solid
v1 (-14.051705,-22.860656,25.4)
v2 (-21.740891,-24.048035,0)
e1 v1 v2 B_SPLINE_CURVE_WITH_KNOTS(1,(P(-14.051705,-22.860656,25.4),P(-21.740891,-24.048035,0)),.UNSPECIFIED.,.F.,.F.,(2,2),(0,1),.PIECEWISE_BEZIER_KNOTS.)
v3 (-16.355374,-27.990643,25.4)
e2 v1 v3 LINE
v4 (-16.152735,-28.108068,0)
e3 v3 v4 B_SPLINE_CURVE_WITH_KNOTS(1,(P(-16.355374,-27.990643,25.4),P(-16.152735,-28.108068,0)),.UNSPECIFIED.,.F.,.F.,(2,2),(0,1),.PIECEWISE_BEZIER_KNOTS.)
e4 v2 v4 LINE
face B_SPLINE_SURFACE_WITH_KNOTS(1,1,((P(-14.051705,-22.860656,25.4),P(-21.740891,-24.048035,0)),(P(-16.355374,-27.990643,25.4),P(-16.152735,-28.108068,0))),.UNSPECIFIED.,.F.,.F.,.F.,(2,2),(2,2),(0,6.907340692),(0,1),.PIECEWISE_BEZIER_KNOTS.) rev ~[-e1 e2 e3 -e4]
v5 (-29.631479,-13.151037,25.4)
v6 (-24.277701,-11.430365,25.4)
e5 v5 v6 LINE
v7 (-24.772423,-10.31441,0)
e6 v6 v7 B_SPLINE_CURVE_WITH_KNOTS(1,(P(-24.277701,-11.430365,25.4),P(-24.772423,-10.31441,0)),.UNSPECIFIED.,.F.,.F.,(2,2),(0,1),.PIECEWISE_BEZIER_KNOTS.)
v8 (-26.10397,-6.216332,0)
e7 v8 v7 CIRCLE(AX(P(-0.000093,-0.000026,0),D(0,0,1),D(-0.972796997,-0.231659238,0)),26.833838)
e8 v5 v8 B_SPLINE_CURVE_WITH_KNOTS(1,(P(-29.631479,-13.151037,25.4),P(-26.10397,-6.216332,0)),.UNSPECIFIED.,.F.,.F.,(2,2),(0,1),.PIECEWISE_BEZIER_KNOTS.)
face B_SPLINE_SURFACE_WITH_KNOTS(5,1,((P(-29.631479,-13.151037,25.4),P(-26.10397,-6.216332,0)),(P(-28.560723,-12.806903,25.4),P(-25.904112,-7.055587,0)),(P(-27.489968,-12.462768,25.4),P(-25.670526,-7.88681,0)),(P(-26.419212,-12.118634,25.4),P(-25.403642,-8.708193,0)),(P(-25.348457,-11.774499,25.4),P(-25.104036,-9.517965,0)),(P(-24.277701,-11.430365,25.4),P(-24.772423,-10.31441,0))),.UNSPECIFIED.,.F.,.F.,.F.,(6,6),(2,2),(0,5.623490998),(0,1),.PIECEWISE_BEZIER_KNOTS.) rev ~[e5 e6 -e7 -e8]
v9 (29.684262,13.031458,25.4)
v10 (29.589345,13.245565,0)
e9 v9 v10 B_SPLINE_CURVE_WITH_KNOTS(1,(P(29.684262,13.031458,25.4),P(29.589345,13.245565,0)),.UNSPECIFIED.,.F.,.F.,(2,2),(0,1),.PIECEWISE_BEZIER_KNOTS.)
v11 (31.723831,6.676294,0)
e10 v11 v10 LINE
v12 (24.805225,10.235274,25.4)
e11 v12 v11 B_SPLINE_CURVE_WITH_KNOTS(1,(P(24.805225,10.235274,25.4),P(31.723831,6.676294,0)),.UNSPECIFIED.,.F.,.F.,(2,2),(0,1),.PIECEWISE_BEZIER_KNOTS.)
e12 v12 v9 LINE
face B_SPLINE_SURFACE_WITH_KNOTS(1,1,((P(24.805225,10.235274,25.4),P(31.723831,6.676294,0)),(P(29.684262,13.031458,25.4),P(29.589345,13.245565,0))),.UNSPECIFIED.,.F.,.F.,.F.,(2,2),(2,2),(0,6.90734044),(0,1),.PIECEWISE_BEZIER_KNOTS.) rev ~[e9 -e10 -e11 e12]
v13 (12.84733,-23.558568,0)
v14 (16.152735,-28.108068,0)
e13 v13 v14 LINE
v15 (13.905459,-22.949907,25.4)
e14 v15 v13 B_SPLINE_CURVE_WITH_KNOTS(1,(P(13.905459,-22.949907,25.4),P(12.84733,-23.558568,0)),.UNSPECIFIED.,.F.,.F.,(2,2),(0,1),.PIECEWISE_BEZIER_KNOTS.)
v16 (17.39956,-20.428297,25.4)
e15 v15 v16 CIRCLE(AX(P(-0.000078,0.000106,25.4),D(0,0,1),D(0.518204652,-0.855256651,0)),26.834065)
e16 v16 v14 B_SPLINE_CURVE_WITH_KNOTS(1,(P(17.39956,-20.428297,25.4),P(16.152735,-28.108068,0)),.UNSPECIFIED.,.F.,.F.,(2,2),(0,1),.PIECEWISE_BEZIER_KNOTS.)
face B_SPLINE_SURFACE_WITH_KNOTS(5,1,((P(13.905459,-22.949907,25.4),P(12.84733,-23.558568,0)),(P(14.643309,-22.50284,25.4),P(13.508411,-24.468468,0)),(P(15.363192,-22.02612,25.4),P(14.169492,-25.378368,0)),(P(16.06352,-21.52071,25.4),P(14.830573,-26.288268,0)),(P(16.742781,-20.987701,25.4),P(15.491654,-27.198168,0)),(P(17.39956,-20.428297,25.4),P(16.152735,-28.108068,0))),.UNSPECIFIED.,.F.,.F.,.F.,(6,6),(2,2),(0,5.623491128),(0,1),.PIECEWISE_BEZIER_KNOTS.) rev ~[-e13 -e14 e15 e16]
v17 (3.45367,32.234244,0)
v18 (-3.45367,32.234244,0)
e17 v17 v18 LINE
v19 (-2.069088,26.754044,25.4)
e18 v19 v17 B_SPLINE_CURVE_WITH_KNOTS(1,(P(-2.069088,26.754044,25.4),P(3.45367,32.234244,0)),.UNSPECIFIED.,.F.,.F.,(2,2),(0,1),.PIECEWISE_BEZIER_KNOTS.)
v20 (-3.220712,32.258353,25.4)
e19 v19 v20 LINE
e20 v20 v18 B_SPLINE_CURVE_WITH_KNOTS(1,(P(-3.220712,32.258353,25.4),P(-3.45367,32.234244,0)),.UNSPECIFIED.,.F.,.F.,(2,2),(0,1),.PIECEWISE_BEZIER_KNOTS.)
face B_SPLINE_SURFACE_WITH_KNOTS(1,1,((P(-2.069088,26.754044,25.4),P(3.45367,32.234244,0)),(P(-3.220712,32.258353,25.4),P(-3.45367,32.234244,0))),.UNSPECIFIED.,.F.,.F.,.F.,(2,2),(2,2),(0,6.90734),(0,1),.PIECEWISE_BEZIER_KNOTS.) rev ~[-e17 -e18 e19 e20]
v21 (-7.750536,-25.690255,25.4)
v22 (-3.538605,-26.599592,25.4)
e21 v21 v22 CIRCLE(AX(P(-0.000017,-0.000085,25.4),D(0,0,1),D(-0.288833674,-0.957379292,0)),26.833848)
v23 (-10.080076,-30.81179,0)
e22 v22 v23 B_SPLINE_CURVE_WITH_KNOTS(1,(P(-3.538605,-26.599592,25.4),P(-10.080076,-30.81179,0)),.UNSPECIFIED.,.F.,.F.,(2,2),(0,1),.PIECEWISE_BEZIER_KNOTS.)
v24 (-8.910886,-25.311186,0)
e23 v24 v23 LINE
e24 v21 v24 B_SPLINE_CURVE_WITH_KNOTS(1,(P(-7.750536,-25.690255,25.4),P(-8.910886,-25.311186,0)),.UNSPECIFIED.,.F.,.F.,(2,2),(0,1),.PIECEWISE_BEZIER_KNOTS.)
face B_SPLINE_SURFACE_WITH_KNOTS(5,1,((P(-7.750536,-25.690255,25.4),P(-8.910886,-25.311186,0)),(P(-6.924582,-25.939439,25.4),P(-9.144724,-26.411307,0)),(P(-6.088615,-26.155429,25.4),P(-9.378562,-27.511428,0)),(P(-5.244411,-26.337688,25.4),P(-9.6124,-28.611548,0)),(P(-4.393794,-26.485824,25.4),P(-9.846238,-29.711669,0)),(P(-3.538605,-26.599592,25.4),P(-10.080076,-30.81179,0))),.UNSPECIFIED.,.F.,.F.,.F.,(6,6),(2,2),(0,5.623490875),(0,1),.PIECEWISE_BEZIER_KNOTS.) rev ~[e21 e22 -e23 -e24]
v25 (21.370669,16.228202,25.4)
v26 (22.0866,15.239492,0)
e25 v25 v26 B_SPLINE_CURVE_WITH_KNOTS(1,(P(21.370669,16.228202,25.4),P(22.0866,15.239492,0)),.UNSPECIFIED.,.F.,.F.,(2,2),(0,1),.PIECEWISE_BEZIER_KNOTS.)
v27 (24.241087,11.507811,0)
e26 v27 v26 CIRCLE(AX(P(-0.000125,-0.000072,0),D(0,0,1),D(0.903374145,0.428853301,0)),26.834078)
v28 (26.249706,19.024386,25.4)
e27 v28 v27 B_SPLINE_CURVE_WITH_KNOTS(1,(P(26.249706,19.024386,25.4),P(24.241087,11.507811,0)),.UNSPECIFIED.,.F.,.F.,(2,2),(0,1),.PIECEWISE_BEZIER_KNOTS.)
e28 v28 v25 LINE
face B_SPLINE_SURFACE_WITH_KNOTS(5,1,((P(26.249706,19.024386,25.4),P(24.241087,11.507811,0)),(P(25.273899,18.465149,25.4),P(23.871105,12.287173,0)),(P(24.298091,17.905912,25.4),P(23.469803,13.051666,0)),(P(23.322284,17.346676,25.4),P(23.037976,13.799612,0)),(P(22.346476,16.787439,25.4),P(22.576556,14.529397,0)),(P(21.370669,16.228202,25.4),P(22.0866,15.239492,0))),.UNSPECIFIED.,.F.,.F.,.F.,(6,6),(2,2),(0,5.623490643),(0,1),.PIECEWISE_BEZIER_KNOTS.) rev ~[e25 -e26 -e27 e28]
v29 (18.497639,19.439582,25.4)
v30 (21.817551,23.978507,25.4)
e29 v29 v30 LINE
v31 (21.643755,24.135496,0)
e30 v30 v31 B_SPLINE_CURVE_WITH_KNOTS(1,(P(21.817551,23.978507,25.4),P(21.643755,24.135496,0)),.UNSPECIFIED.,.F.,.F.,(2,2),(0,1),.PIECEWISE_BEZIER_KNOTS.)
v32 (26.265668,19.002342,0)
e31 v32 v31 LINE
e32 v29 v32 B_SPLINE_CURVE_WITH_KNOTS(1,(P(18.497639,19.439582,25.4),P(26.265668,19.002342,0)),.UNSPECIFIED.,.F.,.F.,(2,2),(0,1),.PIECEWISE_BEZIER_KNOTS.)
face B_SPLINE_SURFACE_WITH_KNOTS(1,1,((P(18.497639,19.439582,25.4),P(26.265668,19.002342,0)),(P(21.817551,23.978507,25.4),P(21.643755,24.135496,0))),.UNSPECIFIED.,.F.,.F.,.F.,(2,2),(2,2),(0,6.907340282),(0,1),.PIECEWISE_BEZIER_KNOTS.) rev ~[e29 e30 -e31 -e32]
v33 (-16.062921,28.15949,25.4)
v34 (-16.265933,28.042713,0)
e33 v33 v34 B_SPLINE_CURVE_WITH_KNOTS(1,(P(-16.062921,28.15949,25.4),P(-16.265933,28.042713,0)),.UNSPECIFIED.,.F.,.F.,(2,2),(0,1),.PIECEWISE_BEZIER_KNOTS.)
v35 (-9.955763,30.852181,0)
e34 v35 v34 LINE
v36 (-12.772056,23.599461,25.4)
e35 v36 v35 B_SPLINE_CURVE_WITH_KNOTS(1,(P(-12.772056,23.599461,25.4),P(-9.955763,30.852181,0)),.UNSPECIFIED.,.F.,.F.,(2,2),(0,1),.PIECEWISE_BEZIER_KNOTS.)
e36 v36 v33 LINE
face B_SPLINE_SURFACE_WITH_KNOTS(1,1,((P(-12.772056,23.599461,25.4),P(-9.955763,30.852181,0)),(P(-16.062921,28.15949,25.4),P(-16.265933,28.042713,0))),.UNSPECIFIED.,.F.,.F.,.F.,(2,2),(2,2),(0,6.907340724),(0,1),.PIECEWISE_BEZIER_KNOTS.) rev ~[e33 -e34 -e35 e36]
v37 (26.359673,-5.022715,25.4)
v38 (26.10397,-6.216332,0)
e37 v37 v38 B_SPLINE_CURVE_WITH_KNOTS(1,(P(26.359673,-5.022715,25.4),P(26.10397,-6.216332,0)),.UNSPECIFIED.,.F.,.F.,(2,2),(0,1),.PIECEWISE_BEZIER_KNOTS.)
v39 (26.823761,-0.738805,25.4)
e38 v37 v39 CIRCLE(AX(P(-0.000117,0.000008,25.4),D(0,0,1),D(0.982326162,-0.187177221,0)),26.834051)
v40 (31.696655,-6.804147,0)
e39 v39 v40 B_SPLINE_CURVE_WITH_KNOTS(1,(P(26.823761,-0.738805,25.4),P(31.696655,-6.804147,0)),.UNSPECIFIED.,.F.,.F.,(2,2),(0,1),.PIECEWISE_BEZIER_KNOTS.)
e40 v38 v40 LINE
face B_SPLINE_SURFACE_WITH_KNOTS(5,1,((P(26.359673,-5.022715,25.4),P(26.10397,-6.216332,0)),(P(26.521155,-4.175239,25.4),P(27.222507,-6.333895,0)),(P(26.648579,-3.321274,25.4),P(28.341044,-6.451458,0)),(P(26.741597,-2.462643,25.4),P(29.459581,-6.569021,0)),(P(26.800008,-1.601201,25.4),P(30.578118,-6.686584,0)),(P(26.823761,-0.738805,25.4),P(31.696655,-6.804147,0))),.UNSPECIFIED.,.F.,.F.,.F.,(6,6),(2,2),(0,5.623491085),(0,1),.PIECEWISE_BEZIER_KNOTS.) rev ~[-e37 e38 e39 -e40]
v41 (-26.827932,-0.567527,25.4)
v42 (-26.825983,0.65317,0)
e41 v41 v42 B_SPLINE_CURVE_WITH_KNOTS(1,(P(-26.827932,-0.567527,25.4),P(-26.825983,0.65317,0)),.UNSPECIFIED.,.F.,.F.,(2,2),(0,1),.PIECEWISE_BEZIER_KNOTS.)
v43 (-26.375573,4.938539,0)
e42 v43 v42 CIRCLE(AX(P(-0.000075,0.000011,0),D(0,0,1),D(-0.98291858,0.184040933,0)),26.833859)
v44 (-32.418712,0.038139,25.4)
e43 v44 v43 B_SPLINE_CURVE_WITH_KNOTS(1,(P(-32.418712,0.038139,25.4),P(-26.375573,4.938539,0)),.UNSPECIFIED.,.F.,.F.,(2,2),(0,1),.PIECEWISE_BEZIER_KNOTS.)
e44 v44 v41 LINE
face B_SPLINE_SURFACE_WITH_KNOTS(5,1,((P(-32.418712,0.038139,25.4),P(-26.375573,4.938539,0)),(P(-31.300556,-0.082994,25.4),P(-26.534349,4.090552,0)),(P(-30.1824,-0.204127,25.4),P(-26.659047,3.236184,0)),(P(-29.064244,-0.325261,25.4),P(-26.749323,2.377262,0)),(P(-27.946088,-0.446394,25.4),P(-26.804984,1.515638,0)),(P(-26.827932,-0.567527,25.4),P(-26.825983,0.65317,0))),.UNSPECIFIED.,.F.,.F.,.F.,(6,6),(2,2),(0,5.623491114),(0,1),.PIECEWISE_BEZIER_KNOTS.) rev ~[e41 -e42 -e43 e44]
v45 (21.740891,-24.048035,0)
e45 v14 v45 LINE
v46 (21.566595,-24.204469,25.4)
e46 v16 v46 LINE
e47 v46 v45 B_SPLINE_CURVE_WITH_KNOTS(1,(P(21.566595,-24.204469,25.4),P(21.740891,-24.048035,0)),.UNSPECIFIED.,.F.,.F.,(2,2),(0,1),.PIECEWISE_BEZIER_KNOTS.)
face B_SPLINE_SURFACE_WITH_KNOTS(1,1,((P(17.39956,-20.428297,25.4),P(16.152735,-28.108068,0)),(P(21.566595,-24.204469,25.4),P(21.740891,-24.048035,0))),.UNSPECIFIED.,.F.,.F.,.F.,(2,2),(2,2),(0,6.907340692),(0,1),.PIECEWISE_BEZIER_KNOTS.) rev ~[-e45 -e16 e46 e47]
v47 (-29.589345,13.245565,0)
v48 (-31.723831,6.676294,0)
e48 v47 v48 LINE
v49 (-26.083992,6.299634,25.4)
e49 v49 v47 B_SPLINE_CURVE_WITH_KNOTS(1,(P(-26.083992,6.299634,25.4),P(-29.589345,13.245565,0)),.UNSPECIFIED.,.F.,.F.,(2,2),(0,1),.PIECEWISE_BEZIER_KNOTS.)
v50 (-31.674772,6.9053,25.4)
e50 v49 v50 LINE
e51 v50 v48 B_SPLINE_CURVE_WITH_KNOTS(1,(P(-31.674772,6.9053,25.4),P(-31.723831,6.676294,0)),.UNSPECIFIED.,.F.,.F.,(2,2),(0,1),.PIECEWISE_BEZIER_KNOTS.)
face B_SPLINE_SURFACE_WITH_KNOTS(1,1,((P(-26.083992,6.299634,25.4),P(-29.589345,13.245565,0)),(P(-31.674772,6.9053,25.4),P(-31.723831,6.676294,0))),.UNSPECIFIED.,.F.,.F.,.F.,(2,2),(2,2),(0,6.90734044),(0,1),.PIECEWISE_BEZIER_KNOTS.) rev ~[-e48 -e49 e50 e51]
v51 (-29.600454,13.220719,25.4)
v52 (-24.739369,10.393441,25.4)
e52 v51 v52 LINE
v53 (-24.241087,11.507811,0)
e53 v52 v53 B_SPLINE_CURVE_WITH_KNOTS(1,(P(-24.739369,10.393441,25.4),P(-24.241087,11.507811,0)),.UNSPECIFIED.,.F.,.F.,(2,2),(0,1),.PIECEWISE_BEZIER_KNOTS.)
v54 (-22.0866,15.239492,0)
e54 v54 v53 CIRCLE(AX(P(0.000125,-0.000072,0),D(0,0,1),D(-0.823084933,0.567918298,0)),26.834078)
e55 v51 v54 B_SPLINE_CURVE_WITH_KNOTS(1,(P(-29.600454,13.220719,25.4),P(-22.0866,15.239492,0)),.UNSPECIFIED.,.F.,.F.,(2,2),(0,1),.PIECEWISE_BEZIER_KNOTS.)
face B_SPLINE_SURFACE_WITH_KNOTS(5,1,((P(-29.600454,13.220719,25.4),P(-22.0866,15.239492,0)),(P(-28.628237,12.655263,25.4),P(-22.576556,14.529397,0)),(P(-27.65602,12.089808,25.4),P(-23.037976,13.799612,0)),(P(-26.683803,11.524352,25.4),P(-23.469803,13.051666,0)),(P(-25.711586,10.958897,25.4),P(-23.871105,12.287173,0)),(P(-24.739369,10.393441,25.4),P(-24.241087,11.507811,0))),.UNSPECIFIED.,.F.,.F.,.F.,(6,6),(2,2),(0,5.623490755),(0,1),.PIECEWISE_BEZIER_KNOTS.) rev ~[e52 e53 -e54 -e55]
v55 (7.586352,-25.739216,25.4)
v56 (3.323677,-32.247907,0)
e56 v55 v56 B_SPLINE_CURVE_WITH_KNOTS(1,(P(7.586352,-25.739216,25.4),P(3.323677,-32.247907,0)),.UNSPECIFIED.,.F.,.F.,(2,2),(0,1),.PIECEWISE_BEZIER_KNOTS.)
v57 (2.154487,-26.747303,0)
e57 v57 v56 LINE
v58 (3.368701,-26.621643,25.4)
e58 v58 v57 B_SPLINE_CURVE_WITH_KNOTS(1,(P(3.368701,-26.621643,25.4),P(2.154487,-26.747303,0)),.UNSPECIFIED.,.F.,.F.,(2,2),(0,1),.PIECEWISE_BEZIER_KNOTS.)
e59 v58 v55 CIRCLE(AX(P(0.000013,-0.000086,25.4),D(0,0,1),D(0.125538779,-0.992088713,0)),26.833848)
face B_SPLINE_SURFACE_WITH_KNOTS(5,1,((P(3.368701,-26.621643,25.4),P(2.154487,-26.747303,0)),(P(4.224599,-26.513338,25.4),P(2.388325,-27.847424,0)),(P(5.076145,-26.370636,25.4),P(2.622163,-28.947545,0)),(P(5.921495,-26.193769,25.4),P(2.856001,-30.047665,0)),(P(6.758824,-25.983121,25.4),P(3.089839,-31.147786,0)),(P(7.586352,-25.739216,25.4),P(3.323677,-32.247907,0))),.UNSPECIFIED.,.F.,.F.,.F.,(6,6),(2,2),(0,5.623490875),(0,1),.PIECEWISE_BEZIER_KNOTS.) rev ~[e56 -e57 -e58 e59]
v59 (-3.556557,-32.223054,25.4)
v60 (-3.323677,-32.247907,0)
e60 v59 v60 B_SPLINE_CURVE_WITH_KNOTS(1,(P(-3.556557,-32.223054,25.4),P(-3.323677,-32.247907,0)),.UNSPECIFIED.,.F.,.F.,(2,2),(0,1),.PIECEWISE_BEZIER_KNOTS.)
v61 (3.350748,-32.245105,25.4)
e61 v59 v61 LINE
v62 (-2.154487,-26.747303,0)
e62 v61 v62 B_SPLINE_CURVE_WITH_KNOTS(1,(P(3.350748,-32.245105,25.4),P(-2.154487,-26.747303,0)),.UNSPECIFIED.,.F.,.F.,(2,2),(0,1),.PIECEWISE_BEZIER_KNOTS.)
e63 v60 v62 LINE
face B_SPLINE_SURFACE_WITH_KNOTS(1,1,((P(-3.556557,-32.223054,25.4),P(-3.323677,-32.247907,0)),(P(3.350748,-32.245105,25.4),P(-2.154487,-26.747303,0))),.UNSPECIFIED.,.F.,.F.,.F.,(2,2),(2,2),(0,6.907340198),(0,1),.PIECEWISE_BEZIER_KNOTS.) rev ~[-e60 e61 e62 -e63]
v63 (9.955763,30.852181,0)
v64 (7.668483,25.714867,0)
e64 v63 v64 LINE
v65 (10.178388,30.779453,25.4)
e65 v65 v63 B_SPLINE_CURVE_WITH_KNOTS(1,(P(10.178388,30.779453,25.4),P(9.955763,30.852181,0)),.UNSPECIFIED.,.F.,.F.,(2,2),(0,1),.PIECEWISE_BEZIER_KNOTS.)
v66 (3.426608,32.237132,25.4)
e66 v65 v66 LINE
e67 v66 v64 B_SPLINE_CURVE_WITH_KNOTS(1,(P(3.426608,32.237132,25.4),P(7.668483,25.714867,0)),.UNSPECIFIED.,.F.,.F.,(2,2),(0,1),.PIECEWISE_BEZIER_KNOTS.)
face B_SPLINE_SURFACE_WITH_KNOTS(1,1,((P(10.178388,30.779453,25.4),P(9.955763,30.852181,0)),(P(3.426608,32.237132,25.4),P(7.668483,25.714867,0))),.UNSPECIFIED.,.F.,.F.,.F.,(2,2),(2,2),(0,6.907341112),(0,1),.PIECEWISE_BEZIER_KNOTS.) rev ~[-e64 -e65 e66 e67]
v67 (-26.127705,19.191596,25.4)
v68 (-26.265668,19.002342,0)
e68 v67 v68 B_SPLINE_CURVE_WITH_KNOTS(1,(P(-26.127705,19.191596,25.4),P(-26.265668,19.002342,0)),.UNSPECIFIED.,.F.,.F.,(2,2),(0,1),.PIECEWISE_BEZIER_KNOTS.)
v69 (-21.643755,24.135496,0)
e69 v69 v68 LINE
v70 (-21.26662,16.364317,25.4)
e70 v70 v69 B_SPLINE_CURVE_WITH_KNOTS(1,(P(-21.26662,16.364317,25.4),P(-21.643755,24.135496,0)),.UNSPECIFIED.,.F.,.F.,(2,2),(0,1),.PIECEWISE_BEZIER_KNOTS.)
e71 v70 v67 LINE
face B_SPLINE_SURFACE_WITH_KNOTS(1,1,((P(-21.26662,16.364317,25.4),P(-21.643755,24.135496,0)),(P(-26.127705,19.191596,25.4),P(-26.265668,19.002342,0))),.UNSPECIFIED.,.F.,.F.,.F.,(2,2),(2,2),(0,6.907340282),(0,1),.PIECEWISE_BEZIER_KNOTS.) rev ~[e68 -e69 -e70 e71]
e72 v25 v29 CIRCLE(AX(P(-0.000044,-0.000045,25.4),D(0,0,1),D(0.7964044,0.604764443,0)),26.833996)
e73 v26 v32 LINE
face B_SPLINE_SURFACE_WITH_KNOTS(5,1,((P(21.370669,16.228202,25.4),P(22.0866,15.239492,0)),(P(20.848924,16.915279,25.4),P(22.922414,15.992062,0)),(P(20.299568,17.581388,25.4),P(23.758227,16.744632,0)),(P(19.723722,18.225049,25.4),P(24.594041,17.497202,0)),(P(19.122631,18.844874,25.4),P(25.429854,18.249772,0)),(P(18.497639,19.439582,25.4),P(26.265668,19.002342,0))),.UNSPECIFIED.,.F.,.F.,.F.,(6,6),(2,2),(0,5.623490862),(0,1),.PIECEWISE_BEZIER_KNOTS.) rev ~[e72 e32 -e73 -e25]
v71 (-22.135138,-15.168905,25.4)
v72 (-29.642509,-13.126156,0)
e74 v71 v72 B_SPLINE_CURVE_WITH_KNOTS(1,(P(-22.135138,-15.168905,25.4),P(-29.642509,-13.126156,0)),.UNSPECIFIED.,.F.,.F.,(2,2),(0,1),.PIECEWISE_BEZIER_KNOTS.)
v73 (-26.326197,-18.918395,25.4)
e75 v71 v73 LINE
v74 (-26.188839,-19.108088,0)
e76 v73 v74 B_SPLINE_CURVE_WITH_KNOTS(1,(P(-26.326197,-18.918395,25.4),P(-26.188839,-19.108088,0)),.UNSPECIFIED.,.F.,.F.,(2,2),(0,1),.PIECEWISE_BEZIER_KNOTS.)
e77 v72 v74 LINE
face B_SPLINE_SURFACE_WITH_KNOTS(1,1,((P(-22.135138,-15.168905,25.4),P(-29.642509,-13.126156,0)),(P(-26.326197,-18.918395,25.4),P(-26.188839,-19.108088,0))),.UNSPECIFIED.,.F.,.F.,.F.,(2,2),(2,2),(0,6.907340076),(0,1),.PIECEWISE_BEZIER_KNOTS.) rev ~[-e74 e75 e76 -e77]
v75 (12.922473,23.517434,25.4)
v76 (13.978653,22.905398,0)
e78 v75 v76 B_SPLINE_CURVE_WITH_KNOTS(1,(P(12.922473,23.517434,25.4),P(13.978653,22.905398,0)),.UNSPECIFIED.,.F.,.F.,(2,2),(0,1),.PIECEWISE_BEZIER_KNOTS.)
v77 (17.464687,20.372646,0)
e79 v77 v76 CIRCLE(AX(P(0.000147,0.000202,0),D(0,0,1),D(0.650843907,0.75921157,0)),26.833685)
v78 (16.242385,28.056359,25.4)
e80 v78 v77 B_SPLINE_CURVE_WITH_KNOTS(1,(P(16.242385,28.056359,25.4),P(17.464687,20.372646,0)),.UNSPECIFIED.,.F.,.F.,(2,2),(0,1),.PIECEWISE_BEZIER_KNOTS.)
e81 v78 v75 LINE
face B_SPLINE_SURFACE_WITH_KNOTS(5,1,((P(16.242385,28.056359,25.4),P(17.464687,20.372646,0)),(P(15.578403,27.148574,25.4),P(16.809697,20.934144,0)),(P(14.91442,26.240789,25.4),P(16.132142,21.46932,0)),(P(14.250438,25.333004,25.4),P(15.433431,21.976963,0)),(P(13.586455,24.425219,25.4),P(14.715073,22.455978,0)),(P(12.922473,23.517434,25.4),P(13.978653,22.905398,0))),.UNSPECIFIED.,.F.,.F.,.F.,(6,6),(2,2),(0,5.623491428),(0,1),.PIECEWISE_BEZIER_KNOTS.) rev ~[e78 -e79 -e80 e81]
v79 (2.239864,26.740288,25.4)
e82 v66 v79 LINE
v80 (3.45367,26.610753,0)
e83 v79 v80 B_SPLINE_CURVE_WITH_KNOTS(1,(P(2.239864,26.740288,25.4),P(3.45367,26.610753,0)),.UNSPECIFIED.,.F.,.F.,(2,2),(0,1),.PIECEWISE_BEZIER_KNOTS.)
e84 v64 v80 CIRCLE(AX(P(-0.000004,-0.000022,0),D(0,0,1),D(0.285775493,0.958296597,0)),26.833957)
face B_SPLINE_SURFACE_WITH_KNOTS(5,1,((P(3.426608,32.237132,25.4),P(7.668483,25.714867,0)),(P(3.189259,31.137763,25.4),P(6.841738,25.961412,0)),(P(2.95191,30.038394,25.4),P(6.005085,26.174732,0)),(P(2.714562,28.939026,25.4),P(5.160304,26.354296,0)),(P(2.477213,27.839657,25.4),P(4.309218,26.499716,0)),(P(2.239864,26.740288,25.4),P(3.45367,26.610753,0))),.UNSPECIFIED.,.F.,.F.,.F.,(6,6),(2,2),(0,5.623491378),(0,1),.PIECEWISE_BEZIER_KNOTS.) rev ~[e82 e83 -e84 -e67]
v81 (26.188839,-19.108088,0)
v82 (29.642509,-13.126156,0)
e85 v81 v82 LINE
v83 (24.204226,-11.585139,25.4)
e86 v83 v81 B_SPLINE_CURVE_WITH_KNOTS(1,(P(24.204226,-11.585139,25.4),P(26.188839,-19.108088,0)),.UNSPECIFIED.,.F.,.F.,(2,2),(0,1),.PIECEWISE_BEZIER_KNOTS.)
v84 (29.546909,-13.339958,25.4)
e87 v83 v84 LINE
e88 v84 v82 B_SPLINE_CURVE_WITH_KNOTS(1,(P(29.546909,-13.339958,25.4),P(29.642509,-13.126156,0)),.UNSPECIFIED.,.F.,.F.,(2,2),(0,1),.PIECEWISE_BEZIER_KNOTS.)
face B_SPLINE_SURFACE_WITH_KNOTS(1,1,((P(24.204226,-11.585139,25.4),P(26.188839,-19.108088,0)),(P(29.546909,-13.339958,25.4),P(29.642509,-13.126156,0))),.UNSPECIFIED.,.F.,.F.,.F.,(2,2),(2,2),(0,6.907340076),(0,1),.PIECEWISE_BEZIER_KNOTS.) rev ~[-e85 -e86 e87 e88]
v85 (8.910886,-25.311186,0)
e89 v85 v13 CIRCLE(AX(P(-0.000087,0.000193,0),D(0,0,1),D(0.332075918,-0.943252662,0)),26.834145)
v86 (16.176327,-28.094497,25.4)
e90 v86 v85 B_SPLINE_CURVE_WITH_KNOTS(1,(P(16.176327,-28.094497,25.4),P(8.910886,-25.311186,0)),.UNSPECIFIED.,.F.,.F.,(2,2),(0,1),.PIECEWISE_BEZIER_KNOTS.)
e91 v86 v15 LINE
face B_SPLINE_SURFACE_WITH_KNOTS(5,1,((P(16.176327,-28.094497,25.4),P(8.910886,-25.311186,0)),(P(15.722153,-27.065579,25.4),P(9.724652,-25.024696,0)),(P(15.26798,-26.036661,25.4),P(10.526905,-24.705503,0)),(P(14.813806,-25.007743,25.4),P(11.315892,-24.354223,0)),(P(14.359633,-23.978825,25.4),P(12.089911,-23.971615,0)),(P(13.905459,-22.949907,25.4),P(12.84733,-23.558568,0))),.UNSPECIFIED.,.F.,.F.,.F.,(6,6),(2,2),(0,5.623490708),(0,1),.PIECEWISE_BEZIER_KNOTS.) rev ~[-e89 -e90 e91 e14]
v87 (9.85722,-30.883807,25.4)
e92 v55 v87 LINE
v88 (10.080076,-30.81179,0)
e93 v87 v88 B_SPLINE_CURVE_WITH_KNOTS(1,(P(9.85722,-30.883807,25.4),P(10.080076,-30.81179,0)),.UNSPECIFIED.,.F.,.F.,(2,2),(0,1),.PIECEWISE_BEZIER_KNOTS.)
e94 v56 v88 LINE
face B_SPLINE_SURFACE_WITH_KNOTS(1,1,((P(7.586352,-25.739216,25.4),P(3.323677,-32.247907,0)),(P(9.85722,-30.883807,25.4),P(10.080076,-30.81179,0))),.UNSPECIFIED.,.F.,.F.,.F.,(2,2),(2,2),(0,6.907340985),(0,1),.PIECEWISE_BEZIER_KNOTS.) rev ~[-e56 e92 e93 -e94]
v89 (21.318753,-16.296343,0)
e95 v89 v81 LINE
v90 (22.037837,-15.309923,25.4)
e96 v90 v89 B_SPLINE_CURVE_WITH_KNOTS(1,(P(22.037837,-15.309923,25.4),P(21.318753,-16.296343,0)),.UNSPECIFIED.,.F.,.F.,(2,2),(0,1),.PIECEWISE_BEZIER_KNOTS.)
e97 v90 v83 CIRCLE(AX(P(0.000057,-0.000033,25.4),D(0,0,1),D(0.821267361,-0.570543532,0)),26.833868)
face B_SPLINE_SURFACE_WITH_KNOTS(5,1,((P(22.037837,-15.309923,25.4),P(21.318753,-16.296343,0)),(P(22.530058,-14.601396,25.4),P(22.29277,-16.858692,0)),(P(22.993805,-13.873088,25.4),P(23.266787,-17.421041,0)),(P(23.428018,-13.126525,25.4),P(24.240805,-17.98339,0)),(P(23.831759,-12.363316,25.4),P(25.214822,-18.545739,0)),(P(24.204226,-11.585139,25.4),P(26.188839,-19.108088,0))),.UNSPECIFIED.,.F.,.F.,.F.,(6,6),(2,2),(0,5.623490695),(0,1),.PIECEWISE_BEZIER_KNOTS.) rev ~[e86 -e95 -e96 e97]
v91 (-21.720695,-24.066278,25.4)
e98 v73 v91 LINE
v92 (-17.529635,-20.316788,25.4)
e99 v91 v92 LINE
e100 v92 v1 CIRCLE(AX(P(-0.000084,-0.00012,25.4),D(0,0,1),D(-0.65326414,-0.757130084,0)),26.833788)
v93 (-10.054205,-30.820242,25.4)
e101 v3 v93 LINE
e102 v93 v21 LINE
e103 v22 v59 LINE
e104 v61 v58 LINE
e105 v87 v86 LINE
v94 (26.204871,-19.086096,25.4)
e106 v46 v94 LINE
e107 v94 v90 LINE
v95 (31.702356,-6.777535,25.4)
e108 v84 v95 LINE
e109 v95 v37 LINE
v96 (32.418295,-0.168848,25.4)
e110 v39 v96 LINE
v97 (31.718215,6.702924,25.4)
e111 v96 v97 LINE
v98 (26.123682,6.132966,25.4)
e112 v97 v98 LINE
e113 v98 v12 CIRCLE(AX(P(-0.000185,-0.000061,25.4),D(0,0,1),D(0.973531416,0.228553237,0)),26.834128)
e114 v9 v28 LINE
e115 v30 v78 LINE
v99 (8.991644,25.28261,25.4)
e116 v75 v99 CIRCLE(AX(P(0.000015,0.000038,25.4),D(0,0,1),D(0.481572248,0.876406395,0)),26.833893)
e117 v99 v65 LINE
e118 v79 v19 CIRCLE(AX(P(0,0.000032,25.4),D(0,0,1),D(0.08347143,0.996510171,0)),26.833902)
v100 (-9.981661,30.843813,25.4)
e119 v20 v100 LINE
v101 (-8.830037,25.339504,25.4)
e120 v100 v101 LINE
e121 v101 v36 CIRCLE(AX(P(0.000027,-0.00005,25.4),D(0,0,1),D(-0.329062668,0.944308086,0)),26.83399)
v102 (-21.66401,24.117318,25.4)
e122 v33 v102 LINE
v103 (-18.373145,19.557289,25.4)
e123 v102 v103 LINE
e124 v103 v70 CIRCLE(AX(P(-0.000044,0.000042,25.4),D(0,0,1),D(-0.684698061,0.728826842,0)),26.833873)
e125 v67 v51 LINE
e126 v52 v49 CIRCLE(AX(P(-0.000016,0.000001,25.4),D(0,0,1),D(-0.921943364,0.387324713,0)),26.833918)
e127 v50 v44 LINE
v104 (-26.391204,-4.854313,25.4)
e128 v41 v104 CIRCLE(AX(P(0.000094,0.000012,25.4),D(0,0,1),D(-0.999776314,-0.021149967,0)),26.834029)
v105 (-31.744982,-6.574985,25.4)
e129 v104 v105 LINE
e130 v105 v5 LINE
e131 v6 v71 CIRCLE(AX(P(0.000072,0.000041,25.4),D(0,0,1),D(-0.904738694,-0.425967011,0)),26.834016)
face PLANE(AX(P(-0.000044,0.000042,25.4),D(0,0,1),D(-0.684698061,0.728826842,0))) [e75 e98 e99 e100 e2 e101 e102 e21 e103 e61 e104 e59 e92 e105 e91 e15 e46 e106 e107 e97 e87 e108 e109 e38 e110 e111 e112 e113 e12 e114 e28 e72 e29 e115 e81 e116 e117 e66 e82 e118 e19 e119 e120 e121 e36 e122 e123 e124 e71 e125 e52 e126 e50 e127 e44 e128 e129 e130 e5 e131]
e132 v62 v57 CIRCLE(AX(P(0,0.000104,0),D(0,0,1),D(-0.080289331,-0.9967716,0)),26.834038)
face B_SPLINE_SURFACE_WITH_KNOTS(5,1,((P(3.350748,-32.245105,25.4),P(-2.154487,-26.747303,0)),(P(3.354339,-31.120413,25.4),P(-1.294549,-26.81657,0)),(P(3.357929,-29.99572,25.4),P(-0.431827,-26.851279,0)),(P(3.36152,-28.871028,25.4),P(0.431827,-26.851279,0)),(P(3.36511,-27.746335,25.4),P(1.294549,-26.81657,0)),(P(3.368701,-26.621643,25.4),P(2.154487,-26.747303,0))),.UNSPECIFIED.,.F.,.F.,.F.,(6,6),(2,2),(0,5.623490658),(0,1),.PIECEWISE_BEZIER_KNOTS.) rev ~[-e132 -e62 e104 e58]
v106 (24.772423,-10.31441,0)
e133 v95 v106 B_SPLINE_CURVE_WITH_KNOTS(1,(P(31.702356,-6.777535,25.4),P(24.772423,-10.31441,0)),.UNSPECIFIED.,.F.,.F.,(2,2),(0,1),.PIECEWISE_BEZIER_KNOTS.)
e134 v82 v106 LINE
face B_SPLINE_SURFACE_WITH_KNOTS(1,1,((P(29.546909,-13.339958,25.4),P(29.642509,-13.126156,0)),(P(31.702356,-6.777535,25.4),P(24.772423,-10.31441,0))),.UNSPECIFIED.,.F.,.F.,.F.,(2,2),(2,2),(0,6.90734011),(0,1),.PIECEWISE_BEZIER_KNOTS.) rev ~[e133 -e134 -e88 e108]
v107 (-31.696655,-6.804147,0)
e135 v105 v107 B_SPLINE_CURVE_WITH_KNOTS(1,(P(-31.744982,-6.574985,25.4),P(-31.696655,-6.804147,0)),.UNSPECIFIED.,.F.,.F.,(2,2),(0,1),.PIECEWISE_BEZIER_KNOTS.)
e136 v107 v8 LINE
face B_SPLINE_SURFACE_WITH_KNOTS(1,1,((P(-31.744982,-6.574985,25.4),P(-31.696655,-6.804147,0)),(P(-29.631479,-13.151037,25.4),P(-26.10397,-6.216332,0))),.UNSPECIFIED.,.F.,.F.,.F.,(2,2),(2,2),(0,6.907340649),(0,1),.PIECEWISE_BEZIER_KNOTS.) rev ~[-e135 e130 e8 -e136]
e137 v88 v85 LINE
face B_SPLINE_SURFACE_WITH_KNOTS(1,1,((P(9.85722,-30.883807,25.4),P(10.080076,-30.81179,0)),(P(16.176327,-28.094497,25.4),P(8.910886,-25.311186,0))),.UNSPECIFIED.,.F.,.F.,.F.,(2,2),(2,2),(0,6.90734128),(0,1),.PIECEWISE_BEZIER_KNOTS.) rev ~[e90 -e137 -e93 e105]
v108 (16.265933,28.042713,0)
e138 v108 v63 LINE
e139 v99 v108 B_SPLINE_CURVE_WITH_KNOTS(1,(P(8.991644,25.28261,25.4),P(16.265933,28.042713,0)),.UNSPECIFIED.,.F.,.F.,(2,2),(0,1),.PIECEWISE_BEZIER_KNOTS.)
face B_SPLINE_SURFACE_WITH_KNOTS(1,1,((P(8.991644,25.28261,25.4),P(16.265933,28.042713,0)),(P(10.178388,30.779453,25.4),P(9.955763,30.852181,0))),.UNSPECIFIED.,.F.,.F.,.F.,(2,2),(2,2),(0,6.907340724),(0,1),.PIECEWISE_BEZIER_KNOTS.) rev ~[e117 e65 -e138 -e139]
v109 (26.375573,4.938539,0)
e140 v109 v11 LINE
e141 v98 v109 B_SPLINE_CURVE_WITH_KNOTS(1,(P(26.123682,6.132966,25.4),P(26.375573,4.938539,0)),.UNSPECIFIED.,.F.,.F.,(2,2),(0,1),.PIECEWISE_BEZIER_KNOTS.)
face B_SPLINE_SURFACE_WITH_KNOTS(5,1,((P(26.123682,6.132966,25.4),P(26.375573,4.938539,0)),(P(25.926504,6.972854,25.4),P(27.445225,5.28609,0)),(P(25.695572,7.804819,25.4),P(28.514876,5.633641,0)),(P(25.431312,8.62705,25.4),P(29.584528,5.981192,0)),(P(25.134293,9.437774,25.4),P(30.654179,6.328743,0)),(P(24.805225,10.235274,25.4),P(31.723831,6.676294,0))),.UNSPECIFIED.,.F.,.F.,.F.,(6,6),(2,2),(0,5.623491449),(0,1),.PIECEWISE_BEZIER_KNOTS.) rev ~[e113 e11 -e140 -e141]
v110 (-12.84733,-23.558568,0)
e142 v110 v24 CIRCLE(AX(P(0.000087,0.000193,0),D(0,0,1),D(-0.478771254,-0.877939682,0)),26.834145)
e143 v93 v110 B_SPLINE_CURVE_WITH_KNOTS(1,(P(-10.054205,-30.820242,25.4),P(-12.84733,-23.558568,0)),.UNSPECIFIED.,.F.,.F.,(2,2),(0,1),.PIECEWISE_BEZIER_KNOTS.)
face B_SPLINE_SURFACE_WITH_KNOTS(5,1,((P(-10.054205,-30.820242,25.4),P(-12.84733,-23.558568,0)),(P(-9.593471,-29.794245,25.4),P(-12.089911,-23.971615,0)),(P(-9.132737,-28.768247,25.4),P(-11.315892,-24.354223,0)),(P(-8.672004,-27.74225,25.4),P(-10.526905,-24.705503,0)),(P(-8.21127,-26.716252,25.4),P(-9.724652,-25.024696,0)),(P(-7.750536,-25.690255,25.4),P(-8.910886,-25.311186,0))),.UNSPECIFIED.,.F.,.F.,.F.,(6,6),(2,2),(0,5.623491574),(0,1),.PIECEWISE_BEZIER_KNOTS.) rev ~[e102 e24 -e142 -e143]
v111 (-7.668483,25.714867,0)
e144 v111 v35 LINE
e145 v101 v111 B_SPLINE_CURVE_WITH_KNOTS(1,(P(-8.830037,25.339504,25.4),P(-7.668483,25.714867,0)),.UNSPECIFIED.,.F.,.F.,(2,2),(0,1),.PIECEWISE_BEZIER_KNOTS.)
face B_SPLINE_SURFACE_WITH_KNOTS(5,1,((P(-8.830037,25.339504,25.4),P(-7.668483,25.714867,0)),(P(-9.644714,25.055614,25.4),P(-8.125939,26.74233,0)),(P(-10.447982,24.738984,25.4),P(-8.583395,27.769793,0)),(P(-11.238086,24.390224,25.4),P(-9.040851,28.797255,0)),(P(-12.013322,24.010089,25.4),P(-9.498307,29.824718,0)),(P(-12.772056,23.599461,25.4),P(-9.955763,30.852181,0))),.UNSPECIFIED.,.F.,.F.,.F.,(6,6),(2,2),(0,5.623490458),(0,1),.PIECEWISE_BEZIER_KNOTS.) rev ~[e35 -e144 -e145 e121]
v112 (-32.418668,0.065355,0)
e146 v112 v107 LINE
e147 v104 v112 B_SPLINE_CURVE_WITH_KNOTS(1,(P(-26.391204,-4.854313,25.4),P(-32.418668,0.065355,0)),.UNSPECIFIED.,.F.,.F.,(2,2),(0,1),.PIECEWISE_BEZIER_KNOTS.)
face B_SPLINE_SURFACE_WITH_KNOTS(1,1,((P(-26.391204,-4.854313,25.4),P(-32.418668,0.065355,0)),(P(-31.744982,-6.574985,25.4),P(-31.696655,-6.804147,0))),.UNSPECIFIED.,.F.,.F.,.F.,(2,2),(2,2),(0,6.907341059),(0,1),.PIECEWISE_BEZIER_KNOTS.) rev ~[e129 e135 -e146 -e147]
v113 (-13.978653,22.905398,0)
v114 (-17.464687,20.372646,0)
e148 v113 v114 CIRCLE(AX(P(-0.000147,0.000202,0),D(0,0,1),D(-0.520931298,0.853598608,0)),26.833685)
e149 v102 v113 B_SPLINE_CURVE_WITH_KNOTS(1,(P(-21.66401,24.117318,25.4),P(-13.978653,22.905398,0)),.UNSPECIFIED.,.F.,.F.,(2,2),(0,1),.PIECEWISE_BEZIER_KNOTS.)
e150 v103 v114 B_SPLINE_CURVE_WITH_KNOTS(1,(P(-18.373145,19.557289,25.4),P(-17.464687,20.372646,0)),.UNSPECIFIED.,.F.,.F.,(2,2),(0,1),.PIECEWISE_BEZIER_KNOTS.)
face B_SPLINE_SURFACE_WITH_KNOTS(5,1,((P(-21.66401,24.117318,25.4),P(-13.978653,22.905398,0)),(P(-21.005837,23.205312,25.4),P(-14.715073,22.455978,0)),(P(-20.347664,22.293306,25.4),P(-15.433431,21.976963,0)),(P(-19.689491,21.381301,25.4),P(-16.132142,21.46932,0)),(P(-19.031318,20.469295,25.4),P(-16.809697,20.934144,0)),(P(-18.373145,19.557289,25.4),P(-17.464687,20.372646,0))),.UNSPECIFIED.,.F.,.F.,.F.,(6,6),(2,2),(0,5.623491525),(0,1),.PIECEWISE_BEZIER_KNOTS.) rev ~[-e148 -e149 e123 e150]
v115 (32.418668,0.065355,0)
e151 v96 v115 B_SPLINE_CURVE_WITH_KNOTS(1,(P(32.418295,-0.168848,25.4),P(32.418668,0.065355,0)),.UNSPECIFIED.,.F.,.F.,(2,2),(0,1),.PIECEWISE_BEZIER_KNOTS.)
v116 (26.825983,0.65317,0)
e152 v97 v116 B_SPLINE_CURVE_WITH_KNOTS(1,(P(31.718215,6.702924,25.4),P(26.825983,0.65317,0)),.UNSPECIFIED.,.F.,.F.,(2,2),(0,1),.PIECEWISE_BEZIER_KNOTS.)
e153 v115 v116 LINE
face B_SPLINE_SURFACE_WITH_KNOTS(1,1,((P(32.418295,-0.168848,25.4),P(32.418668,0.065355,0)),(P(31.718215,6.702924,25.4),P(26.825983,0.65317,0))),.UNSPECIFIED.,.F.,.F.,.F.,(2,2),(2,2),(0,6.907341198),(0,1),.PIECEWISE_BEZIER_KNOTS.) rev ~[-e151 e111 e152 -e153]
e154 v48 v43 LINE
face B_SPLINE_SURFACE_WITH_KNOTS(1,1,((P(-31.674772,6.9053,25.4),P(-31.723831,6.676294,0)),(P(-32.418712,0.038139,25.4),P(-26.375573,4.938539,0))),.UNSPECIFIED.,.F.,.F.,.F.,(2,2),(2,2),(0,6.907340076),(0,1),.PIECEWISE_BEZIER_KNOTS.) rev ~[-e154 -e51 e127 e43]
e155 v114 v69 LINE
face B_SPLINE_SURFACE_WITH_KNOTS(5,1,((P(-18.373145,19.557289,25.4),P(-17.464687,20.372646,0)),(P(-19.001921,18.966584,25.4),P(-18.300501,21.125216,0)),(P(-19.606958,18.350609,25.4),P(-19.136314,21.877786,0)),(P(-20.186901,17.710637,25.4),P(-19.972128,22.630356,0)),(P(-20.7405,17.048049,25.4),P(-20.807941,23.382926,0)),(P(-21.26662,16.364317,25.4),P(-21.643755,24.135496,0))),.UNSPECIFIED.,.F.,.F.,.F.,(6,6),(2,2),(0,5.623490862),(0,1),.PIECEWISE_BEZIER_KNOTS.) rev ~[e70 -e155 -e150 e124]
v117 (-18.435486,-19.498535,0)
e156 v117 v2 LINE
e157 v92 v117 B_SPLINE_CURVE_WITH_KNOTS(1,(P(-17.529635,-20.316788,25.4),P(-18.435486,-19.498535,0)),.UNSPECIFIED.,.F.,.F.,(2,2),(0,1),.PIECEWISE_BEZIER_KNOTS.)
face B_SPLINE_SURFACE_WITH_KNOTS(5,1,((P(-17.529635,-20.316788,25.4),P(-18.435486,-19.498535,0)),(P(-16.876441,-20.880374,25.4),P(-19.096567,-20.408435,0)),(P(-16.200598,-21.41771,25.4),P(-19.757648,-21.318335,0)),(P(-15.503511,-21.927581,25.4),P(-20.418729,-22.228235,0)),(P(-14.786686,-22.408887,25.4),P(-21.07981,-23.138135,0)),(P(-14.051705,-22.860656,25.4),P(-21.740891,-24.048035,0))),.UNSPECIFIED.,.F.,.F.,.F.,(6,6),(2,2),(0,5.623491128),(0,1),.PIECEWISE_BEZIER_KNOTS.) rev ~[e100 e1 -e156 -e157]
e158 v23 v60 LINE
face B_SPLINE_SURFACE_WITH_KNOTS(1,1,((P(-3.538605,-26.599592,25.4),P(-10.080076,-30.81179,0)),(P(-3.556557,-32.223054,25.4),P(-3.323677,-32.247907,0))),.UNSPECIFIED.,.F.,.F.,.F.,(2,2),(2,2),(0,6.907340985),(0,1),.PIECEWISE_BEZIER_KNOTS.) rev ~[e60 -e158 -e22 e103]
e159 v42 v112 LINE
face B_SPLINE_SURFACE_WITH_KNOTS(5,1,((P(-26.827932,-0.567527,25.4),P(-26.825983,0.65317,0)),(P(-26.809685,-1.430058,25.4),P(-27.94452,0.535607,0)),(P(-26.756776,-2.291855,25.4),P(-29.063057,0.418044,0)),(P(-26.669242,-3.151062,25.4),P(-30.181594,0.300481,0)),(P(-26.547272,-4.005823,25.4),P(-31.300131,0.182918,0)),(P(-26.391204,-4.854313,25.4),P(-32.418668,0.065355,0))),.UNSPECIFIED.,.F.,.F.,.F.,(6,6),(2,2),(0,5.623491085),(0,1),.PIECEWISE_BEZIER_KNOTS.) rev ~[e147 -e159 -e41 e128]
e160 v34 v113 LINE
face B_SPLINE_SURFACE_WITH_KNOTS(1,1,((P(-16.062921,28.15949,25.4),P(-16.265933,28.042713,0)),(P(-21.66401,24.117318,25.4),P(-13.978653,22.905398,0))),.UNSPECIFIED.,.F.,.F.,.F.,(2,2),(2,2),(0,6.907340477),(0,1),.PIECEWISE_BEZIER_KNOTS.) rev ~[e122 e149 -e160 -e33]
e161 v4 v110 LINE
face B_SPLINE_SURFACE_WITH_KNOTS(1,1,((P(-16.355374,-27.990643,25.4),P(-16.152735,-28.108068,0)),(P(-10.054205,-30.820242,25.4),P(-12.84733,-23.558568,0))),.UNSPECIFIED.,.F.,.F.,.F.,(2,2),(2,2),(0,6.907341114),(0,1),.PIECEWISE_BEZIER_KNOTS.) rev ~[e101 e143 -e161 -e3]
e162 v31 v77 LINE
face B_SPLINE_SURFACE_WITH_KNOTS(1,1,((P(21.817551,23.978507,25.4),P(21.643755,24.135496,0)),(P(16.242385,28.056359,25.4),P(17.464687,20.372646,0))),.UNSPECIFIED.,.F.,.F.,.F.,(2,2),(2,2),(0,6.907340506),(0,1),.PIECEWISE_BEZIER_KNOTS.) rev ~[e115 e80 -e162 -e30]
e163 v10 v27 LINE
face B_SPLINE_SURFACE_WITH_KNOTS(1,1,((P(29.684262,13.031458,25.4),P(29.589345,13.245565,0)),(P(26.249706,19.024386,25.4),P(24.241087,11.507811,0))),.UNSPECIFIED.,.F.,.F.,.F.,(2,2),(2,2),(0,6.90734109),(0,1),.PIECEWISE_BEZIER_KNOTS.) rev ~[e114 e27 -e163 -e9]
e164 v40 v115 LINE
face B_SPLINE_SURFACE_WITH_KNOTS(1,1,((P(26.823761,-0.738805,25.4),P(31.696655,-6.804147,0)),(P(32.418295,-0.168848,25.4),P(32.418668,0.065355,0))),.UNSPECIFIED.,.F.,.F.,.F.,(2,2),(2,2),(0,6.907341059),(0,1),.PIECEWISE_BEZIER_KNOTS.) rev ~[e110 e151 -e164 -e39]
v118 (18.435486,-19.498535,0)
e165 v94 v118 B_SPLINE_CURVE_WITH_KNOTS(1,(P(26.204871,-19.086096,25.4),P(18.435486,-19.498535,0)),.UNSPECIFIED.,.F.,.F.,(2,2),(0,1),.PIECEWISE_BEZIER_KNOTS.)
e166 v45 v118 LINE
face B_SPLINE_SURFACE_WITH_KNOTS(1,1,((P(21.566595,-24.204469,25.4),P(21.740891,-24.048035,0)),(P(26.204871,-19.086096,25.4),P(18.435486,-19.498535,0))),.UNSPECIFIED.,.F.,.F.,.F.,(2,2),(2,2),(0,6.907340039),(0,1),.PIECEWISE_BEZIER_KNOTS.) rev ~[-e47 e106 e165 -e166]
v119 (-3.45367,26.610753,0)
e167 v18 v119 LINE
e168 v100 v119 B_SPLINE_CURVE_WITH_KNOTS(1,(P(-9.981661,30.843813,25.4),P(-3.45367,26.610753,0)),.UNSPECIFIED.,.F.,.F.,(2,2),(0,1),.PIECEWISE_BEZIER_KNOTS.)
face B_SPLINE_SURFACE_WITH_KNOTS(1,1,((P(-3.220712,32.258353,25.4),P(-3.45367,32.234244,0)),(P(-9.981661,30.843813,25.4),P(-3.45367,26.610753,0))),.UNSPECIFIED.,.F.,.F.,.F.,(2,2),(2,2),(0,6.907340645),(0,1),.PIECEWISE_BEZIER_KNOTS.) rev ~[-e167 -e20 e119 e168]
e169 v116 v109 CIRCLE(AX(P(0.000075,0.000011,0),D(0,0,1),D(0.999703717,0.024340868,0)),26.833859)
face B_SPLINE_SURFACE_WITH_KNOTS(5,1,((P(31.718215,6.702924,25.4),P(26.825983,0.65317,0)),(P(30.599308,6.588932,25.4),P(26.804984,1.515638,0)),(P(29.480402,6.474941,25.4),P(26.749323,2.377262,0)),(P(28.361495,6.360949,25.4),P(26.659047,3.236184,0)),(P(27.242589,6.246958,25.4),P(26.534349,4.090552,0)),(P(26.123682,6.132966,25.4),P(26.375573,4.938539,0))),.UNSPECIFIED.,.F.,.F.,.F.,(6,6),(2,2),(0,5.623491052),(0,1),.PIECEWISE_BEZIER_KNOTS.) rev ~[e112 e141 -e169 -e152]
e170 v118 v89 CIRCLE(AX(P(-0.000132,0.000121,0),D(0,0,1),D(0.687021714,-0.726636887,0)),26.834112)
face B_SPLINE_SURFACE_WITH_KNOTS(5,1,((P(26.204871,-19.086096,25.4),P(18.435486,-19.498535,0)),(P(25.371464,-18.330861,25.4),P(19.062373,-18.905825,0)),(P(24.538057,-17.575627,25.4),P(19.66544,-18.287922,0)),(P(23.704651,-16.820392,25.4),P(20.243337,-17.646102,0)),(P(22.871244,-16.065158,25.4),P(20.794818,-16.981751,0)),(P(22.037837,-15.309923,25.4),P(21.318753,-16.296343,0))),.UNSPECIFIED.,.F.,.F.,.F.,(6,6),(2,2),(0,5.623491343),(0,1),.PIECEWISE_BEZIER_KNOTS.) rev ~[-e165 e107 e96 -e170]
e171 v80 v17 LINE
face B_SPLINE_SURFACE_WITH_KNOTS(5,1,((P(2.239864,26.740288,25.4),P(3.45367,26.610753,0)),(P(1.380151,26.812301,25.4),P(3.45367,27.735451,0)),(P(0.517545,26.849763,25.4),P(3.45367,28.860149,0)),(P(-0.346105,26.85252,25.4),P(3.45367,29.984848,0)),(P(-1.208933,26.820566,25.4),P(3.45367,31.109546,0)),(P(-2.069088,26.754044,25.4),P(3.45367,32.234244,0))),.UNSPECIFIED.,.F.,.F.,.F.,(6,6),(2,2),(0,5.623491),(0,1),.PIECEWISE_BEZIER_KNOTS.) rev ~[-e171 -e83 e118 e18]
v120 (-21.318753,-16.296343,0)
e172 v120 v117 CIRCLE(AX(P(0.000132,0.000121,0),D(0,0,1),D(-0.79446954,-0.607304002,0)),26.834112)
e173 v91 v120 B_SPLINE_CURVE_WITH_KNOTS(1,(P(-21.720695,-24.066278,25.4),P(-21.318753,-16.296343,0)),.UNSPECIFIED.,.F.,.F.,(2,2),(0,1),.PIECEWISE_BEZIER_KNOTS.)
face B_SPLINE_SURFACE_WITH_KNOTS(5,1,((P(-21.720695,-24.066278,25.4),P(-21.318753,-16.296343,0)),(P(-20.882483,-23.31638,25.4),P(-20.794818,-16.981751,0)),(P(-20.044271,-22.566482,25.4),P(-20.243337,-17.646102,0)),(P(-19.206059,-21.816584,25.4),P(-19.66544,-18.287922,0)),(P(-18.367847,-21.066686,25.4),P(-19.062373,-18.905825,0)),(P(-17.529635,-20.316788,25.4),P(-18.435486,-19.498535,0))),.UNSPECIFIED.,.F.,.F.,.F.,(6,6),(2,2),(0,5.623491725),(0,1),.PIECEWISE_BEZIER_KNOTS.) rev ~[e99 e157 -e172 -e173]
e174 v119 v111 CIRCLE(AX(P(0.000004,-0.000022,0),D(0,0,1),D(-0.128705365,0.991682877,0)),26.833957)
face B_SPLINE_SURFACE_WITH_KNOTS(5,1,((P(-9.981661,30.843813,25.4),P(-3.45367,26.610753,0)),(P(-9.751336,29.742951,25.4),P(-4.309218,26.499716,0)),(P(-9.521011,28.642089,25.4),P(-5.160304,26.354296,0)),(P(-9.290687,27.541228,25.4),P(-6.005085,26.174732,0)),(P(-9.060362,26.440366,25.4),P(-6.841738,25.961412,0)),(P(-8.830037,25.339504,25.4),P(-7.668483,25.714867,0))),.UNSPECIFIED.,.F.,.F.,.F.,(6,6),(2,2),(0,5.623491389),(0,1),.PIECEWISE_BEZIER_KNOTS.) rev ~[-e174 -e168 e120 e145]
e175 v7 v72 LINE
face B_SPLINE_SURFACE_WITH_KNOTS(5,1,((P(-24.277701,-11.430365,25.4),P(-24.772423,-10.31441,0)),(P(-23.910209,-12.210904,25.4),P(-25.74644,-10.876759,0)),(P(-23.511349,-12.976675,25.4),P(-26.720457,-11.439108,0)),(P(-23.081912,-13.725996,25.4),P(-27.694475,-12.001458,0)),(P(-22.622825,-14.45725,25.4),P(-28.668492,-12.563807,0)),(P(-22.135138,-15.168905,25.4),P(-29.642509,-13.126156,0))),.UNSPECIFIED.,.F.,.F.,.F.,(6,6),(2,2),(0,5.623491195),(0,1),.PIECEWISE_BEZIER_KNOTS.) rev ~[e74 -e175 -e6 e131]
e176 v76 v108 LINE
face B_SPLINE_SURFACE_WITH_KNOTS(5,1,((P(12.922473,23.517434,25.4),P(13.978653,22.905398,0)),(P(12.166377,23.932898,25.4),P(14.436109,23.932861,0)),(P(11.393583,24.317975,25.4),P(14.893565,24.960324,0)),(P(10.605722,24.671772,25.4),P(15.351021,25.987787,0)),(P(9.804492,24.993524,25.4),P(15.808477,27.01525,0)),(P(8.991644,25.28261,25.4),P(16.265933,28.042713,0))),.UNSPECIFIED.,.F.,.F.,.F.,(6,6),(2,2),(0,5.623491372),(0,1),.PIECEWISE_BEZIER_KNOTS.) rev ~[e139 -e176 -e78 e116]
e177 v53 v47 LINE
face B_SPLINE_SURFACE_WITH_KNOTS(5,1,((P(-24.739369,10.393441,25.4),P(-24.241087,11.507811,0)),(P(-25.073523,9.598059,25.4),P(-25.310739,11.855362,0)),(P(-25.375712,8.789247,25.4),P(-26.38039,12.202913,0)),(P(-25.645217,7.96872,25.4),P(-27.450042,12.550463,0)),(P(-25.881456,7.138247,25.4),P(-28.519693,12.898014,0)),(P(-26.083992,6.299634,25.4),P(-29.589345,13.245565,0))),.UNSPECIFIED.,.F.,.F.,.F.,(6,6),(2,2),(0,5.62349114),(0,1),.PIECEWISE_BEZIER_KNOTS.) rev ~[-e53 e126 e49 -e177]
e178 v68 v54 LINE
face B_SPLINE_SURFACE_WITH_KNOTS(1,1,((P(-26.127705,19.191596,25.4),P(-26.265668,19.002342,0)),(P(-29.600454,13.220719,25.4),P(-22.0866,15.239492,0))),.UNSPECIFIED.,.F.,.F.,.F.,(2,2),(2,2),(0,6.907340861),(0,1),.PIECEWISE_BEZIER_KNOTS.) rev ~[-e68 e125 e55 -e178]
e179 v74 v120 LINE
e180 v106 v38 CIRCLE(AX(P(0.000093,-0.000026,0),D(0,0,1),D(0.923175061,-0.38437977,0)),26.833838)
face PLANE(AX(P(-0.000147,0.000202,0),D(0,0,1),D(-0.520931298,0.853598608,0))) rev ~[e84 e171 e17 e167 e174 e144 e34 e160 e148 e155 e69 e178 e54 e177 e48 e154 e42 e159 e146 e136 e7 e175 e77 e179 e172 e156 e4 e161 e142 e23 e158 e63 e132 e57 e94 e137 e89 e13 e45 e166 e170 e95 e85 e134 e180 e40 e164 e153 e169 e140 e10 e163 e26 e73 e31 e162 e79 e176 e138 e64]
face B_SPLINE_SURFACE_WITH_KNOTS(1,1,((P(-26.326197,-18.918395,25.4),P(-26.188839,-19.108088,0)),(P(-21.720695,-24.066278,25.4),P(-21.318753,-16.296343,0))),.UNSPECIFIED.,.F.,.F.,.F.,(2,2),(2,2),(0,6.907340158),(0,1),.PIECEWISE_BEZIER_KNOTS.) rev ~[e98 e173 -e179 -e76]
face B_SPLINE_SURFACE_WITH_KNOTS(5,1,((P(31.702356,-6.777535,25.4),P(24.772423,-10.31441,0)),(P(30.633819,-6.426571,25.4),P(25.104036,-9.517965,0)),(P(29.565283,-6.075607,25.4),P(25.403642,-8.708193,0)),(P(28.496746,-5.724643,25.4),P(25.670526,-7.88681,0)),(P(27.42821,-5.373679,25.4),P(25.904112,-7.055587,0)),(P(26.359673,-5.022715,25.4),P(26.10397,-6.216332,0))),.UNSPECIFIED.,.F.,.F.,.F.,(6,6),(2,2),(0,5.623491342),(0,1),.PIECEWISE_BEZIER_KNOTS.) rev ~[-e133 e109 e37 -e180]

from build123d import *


with BuildPart() as f3:
    # F2 (on offset) → F3 section 0
    with BuildSketch(Plane.XY.offset(25.4)):
        with BuildLine():
            Line((-21.66401, 24.117318), (-18.373145, 19.557289))
            ThreePointArc((-18.373145, 19.557289), (-19.884077, 18.018976), (-21.26662, 16.364317))
            Line((-21.26662, 16.364317), (-26.127705, 19.191596))
            Line((-26.127705, 19.191596), (-29.600454, 13.220719))
            Line((-29.600454, 13.220719), (-24.739369, 10.393441))
            ThreePointArc((-24.739369, 10.393441), (-25.493986, 8.373571), (-26.083992, 6.299634))
            Line((-26.083992, 6.299634), (-31.674772, 6.9053))
            Line((-31.674772, 6.9053), (-32.418712, 0.038139))
            Line((-32.418712, 0.038139), (-26.827932, -0.567527))
            ThreePointArc((-26.827932, -0.567527), (-26.695753, -2.7197), (-26.391204, -4.854313))
            Line((-26.391204, -4.854313), (-31.744982, -6.574985))
            Line((-31.744982, -6.574985), (-29.631479, -13.151037))
            Line((-29.631479, -13.151037), (-24.277701, -11.430365))
            ThreePointArc((-24.277701, -11.430365), (-23.281582, -13.342711), (-22.135138, -15.168905))
            Line((-22.135138, -15.168905), (-26.326197, -18.918395))
            Line((-26.326197, -18.918395), (-21.720695, -24.066278))
            Line((-21.720695, -24.066278), (-17.529635, -20.316788))
            ThreePointArc((-17.529635, -20.316788), (-15.841814, -21.658646), (-14.051705, -22.860656))
            Line((-14.051705, -22.860656), (-16.355374, -27.990643))
            Line((-16.355374, -27.990643), (-10.054205, -30.820242))
            Line((-10.054205, -30.820242), (-7.750536, -25.690255))
            ThreePointArc((-7.750536, -25.690255), (-5.662853, -26.229604), (-3.538605, -26.599592))
            Line((-3.538605, -26.599592), (-3.556557, -32.223054))
            Line((-3.556557, -32.223054), (3.350748, -32.245105))
            Line((3.350748, -32.245105), (3.368701, -26.621643))
            ThreePointArc((3.368701, -26.621643), (5.495268, -26.265225), (7.586352, -25.739216))
            Line((7.586352, -25.739216), (9.85722, -30.883807))
            Line((9.85722, -30.883807), (16.176327, -28.094497))
            Line((16.176327, -28.094497), (13.905459, -22.949907))
            ThreePointArc((13.905459, -22.949907), (15.703206, -21.75935), (17.39956, -20.428297))
            Line((17.39956, -20.428297), (21.566595, -24.204469))
            Line((21.566595, -24.204469), (26.204871, -19.086096))
            Line((26.204871, -19.086096), (22.037837, -15.309923))
            ThreePointArc((22.037837, -15.309923), (23.195918, -13.491086), (24.204226, -11.585139))
            Line((24.204226, -11.585139), (29.546909, -13.339958))
            Line((29.546909, -13.339958), (31.702356, -6.777535))
            Line((31.702356, -6.777535), (26.359673, -5.022715))
            ThreePointArc((26.359673, -5.022715), (26.677844, -2.890091), (26.823761, -0.738805))
            Line((26.823761, -0.738805), (32.418295, -0.168848))
            Line((32.418295, -0.168848), (31.718215, 6.702924))
            Line((31.718215, 6.702924), (26.123682, 6.132966))
            ThreePointArc((26.123682, 6.132966), (25.546929, 8.210628), (24.805225, 10.235274))
            Line((24.805225, 10.235274), (29.684262, 13.031458))
            Line((29.684262, 13.031458), (26.249706, 19.024386))
            Line((26.249706, 19.024386), (21.370669, 16.228202))
            ThreePointArc((21.370669, 16.228202), (19.998718, 17.891654), (18.497639, 19.439582))
            Line((18.497639, 19.439582), (21.817551, 23.978507))
            Line((21.817551, 23.978507), (16.242385, 28.056359))
            Line((16.242385, 28.056359), (12.922473, 23.517434))
            ThreePointArc((12.922473, 23.517434), (10.992547, 24.479051), (8.991644, 25.28261))
            Line((8.991644, 25.28261), (10.178388, 30.779453))
            Line((10.178388, 30.779453), (3.426608, 32.237132))
            Line((3.426608, 32.237132), (2.239864, 26.740288))
            ThreePointArc((2.239864, 26.740288), (0.085664, 26.833797), (-2.069088, 26.754044))
            Line((-2.069088, 26.754044), (-3.220712, 32.258353))
            Line((-3.220712, 32.258353), (-9.981661, 30.843813))
            Line((-9.981661, 30.843813), (-8.830037, 25.339504))
            ThreePointArc((-8.830037, 25.339504), (-10.83603, 24.548736), (-12.772056, 23.599461))
            Line((-12.772056, 23.599461), (-16.062921, 28.15949))
            Line((-16.062921, 28.15949), (-21.66401, 24.117318))
        make_face()
    # F0 (on Top) → F3 section 1
    with BuildSketch(Plane.XY):
        with BuildLine():
            Line((-26.265668, 19.002342), (-22.0866, 15.239492))
            ThreePointArc((-22.0866, 15.239492), (-23.238868, 13.416967), (-24.241087, 11.507811))
            Line((-24.241087, 11.507811), (-29.589345, 13.245565))
            Line((-29.589345, 13.245565), (-31.723831, 6.676294))
            Line((-31.723831, 6.676294), (-26.375573, 4.938539))
            ThreePointArc((-26.375573, 4.938539), (-26.686935, 2.80491), (-26.825983, 0.65317))
            Line((-26.825983, 0.65317), (-32.418668, 0.065355))
            Line((-32.418668, 0.065355), (-31.696655, -6.804147))
            Line((-31.696655, -6.804147), (-26.10397, -6.216332))
            ThreePointArc((-26.10397, -6.216332), (-25.520588, -8.292142), (-24.772423, -10.31441))
            Line((-24.772423, -10.31441), (-29.642509, -13.126156))
            Line((-29.642509, -13.126156), (-26.188839, -19.108088))
            Line((-26.188839, -19.108088), (-21.318753, -16.296343))
            ThreePointArc((-21.318753, -16.296343), (-19.941499, -17.955406), (-18.435486, -19.498535))
            Line((-18.435486, -19.498535), (-21.740891, -24.048035))
            Line((-21.740891, -24.048035), (-16.152735, -28.108068))
            Line((-16.152735, -28.108068), (-12.84733, -23.558568))
            ThreePointArc((-12.84733, -23.558568), (-10.914344, -24.514018), (-8.910886, -25.311186))
            Line((-8.910886, -25.311186), (-10.080076, -30.81179))
            Line((-10.080076, -30.81179), (-3.323677, -32.247907))
            Line((-3.323677, -32.247907), (-2.154487, -26.747303))
            ThreePointArc((-2.154487, -26.747303), (0, -26.833934), (2.154487, -26.747303))
            Line((2.154487, -26.747303), (3.323677, -32.247907))
            Line((3.323677, -32.247907), (10.080076, -30.81179))
            Line((10.080076, -30.81179), (8.910886, -25.311186))
            ThreePointArc((8.910886, -25.311186), (10.914344, -24.514018), (12.84733, -23.558568))
            Line((12.84733, -23.558568), (16.152735, -28.108068))
            Line((16.152735, -28.108068), (21.740891, -24.048035))
            Line((21.740891, -24.048035), (18.435486, -19.498535))
            ThreePointArc((18.435486, -19.498535), (19.941499, -17.955406), (21.318753, -16.296343))
            Line((21.318753, -16.296343), (26.188839, -19.108088))
            Line((26.188839, -19.108088), (29.642509, -13.126156))
            Line((29.642509, -13.126156), (24.772423, -10.31441))
            ThreePointArc((24.772423, -10.31441), (25.520588, -8.292142), (26.10397, -6.216332))
            Line((26.10397, -6.216332), (31.696655, -6.804147))
            Line((31.696655, -6.804147), (32.418668, 0.065355))
            Line((32.418668, 0.065355), (26.825983, 0.65317))
            ThreePointArc((26.825983, 0.65317), (26.686935, 2.80491), (26.375573, 4.938539))
            Line((26.375573, 4.938539), (31.723831, 6.676294))
            Line((31.723831, 6.676294), (29.589345, 13.245565))
            Line((29.589345, 13.245565), (24.241087, 11.507811))
            ThreePointArc((24.241087, 11.507811), (23.238868, 13.416967), (22.0866, 15.239492))
            Line((22.0866, 15.239492), (26.265668, 19.002342))
            Line((26.265668, 19.002342), (21.643755, 24.135496))
            Line((21.643755, 24.135496), (17.464687, 20.372646))
            ThreePointArc((17.464687, 20.372646), (15.772591, 21.709109), (13.978653, 22.905398))
            Line((13.978653, 22.905398), (16.265933, 28.042713))
            Line((16.265933, 28.042713), (9.955763, 30.852181))
            Line((9.955763, 30.852181), (7.668483, 25.714867))
            ThreePointArc((7.668483, 25.714867), (5.579089, 26.247548), (3.45367, 26.610753))
            Line((3.45367, 26.610753), (3.45367, 32.234244))
            Line((3.45367, 32.234244), (-3.45367, 32.234244))
            Line((-3.45367, 32.234244), (-3.45367, 26.610753))
            ThreePointArc((-3.45367, 26.610753), (-5.579089, 26.247548), (-7.668483, 25.714867))
            Line((-7.668483, 25.714867), (-9.955763, 30.852181))
            Line((-9.955763, 30.852181), (-16.265933, 28.042713))
            Line((-16.265933, 28.042713), (-13.978653, 22.905398))
            ThreePointArc((-13.978653, 22.905398), (-15.772591, 21.709109), (-17.464687, 20.372646))
            Line((-17.464687, 20.372646), (-21.643755, 24.135496))
            Line((-21.643755, 24.135496), (-26.265668, 19.002342))
        make_face()
    loft()


solid = f3.part
